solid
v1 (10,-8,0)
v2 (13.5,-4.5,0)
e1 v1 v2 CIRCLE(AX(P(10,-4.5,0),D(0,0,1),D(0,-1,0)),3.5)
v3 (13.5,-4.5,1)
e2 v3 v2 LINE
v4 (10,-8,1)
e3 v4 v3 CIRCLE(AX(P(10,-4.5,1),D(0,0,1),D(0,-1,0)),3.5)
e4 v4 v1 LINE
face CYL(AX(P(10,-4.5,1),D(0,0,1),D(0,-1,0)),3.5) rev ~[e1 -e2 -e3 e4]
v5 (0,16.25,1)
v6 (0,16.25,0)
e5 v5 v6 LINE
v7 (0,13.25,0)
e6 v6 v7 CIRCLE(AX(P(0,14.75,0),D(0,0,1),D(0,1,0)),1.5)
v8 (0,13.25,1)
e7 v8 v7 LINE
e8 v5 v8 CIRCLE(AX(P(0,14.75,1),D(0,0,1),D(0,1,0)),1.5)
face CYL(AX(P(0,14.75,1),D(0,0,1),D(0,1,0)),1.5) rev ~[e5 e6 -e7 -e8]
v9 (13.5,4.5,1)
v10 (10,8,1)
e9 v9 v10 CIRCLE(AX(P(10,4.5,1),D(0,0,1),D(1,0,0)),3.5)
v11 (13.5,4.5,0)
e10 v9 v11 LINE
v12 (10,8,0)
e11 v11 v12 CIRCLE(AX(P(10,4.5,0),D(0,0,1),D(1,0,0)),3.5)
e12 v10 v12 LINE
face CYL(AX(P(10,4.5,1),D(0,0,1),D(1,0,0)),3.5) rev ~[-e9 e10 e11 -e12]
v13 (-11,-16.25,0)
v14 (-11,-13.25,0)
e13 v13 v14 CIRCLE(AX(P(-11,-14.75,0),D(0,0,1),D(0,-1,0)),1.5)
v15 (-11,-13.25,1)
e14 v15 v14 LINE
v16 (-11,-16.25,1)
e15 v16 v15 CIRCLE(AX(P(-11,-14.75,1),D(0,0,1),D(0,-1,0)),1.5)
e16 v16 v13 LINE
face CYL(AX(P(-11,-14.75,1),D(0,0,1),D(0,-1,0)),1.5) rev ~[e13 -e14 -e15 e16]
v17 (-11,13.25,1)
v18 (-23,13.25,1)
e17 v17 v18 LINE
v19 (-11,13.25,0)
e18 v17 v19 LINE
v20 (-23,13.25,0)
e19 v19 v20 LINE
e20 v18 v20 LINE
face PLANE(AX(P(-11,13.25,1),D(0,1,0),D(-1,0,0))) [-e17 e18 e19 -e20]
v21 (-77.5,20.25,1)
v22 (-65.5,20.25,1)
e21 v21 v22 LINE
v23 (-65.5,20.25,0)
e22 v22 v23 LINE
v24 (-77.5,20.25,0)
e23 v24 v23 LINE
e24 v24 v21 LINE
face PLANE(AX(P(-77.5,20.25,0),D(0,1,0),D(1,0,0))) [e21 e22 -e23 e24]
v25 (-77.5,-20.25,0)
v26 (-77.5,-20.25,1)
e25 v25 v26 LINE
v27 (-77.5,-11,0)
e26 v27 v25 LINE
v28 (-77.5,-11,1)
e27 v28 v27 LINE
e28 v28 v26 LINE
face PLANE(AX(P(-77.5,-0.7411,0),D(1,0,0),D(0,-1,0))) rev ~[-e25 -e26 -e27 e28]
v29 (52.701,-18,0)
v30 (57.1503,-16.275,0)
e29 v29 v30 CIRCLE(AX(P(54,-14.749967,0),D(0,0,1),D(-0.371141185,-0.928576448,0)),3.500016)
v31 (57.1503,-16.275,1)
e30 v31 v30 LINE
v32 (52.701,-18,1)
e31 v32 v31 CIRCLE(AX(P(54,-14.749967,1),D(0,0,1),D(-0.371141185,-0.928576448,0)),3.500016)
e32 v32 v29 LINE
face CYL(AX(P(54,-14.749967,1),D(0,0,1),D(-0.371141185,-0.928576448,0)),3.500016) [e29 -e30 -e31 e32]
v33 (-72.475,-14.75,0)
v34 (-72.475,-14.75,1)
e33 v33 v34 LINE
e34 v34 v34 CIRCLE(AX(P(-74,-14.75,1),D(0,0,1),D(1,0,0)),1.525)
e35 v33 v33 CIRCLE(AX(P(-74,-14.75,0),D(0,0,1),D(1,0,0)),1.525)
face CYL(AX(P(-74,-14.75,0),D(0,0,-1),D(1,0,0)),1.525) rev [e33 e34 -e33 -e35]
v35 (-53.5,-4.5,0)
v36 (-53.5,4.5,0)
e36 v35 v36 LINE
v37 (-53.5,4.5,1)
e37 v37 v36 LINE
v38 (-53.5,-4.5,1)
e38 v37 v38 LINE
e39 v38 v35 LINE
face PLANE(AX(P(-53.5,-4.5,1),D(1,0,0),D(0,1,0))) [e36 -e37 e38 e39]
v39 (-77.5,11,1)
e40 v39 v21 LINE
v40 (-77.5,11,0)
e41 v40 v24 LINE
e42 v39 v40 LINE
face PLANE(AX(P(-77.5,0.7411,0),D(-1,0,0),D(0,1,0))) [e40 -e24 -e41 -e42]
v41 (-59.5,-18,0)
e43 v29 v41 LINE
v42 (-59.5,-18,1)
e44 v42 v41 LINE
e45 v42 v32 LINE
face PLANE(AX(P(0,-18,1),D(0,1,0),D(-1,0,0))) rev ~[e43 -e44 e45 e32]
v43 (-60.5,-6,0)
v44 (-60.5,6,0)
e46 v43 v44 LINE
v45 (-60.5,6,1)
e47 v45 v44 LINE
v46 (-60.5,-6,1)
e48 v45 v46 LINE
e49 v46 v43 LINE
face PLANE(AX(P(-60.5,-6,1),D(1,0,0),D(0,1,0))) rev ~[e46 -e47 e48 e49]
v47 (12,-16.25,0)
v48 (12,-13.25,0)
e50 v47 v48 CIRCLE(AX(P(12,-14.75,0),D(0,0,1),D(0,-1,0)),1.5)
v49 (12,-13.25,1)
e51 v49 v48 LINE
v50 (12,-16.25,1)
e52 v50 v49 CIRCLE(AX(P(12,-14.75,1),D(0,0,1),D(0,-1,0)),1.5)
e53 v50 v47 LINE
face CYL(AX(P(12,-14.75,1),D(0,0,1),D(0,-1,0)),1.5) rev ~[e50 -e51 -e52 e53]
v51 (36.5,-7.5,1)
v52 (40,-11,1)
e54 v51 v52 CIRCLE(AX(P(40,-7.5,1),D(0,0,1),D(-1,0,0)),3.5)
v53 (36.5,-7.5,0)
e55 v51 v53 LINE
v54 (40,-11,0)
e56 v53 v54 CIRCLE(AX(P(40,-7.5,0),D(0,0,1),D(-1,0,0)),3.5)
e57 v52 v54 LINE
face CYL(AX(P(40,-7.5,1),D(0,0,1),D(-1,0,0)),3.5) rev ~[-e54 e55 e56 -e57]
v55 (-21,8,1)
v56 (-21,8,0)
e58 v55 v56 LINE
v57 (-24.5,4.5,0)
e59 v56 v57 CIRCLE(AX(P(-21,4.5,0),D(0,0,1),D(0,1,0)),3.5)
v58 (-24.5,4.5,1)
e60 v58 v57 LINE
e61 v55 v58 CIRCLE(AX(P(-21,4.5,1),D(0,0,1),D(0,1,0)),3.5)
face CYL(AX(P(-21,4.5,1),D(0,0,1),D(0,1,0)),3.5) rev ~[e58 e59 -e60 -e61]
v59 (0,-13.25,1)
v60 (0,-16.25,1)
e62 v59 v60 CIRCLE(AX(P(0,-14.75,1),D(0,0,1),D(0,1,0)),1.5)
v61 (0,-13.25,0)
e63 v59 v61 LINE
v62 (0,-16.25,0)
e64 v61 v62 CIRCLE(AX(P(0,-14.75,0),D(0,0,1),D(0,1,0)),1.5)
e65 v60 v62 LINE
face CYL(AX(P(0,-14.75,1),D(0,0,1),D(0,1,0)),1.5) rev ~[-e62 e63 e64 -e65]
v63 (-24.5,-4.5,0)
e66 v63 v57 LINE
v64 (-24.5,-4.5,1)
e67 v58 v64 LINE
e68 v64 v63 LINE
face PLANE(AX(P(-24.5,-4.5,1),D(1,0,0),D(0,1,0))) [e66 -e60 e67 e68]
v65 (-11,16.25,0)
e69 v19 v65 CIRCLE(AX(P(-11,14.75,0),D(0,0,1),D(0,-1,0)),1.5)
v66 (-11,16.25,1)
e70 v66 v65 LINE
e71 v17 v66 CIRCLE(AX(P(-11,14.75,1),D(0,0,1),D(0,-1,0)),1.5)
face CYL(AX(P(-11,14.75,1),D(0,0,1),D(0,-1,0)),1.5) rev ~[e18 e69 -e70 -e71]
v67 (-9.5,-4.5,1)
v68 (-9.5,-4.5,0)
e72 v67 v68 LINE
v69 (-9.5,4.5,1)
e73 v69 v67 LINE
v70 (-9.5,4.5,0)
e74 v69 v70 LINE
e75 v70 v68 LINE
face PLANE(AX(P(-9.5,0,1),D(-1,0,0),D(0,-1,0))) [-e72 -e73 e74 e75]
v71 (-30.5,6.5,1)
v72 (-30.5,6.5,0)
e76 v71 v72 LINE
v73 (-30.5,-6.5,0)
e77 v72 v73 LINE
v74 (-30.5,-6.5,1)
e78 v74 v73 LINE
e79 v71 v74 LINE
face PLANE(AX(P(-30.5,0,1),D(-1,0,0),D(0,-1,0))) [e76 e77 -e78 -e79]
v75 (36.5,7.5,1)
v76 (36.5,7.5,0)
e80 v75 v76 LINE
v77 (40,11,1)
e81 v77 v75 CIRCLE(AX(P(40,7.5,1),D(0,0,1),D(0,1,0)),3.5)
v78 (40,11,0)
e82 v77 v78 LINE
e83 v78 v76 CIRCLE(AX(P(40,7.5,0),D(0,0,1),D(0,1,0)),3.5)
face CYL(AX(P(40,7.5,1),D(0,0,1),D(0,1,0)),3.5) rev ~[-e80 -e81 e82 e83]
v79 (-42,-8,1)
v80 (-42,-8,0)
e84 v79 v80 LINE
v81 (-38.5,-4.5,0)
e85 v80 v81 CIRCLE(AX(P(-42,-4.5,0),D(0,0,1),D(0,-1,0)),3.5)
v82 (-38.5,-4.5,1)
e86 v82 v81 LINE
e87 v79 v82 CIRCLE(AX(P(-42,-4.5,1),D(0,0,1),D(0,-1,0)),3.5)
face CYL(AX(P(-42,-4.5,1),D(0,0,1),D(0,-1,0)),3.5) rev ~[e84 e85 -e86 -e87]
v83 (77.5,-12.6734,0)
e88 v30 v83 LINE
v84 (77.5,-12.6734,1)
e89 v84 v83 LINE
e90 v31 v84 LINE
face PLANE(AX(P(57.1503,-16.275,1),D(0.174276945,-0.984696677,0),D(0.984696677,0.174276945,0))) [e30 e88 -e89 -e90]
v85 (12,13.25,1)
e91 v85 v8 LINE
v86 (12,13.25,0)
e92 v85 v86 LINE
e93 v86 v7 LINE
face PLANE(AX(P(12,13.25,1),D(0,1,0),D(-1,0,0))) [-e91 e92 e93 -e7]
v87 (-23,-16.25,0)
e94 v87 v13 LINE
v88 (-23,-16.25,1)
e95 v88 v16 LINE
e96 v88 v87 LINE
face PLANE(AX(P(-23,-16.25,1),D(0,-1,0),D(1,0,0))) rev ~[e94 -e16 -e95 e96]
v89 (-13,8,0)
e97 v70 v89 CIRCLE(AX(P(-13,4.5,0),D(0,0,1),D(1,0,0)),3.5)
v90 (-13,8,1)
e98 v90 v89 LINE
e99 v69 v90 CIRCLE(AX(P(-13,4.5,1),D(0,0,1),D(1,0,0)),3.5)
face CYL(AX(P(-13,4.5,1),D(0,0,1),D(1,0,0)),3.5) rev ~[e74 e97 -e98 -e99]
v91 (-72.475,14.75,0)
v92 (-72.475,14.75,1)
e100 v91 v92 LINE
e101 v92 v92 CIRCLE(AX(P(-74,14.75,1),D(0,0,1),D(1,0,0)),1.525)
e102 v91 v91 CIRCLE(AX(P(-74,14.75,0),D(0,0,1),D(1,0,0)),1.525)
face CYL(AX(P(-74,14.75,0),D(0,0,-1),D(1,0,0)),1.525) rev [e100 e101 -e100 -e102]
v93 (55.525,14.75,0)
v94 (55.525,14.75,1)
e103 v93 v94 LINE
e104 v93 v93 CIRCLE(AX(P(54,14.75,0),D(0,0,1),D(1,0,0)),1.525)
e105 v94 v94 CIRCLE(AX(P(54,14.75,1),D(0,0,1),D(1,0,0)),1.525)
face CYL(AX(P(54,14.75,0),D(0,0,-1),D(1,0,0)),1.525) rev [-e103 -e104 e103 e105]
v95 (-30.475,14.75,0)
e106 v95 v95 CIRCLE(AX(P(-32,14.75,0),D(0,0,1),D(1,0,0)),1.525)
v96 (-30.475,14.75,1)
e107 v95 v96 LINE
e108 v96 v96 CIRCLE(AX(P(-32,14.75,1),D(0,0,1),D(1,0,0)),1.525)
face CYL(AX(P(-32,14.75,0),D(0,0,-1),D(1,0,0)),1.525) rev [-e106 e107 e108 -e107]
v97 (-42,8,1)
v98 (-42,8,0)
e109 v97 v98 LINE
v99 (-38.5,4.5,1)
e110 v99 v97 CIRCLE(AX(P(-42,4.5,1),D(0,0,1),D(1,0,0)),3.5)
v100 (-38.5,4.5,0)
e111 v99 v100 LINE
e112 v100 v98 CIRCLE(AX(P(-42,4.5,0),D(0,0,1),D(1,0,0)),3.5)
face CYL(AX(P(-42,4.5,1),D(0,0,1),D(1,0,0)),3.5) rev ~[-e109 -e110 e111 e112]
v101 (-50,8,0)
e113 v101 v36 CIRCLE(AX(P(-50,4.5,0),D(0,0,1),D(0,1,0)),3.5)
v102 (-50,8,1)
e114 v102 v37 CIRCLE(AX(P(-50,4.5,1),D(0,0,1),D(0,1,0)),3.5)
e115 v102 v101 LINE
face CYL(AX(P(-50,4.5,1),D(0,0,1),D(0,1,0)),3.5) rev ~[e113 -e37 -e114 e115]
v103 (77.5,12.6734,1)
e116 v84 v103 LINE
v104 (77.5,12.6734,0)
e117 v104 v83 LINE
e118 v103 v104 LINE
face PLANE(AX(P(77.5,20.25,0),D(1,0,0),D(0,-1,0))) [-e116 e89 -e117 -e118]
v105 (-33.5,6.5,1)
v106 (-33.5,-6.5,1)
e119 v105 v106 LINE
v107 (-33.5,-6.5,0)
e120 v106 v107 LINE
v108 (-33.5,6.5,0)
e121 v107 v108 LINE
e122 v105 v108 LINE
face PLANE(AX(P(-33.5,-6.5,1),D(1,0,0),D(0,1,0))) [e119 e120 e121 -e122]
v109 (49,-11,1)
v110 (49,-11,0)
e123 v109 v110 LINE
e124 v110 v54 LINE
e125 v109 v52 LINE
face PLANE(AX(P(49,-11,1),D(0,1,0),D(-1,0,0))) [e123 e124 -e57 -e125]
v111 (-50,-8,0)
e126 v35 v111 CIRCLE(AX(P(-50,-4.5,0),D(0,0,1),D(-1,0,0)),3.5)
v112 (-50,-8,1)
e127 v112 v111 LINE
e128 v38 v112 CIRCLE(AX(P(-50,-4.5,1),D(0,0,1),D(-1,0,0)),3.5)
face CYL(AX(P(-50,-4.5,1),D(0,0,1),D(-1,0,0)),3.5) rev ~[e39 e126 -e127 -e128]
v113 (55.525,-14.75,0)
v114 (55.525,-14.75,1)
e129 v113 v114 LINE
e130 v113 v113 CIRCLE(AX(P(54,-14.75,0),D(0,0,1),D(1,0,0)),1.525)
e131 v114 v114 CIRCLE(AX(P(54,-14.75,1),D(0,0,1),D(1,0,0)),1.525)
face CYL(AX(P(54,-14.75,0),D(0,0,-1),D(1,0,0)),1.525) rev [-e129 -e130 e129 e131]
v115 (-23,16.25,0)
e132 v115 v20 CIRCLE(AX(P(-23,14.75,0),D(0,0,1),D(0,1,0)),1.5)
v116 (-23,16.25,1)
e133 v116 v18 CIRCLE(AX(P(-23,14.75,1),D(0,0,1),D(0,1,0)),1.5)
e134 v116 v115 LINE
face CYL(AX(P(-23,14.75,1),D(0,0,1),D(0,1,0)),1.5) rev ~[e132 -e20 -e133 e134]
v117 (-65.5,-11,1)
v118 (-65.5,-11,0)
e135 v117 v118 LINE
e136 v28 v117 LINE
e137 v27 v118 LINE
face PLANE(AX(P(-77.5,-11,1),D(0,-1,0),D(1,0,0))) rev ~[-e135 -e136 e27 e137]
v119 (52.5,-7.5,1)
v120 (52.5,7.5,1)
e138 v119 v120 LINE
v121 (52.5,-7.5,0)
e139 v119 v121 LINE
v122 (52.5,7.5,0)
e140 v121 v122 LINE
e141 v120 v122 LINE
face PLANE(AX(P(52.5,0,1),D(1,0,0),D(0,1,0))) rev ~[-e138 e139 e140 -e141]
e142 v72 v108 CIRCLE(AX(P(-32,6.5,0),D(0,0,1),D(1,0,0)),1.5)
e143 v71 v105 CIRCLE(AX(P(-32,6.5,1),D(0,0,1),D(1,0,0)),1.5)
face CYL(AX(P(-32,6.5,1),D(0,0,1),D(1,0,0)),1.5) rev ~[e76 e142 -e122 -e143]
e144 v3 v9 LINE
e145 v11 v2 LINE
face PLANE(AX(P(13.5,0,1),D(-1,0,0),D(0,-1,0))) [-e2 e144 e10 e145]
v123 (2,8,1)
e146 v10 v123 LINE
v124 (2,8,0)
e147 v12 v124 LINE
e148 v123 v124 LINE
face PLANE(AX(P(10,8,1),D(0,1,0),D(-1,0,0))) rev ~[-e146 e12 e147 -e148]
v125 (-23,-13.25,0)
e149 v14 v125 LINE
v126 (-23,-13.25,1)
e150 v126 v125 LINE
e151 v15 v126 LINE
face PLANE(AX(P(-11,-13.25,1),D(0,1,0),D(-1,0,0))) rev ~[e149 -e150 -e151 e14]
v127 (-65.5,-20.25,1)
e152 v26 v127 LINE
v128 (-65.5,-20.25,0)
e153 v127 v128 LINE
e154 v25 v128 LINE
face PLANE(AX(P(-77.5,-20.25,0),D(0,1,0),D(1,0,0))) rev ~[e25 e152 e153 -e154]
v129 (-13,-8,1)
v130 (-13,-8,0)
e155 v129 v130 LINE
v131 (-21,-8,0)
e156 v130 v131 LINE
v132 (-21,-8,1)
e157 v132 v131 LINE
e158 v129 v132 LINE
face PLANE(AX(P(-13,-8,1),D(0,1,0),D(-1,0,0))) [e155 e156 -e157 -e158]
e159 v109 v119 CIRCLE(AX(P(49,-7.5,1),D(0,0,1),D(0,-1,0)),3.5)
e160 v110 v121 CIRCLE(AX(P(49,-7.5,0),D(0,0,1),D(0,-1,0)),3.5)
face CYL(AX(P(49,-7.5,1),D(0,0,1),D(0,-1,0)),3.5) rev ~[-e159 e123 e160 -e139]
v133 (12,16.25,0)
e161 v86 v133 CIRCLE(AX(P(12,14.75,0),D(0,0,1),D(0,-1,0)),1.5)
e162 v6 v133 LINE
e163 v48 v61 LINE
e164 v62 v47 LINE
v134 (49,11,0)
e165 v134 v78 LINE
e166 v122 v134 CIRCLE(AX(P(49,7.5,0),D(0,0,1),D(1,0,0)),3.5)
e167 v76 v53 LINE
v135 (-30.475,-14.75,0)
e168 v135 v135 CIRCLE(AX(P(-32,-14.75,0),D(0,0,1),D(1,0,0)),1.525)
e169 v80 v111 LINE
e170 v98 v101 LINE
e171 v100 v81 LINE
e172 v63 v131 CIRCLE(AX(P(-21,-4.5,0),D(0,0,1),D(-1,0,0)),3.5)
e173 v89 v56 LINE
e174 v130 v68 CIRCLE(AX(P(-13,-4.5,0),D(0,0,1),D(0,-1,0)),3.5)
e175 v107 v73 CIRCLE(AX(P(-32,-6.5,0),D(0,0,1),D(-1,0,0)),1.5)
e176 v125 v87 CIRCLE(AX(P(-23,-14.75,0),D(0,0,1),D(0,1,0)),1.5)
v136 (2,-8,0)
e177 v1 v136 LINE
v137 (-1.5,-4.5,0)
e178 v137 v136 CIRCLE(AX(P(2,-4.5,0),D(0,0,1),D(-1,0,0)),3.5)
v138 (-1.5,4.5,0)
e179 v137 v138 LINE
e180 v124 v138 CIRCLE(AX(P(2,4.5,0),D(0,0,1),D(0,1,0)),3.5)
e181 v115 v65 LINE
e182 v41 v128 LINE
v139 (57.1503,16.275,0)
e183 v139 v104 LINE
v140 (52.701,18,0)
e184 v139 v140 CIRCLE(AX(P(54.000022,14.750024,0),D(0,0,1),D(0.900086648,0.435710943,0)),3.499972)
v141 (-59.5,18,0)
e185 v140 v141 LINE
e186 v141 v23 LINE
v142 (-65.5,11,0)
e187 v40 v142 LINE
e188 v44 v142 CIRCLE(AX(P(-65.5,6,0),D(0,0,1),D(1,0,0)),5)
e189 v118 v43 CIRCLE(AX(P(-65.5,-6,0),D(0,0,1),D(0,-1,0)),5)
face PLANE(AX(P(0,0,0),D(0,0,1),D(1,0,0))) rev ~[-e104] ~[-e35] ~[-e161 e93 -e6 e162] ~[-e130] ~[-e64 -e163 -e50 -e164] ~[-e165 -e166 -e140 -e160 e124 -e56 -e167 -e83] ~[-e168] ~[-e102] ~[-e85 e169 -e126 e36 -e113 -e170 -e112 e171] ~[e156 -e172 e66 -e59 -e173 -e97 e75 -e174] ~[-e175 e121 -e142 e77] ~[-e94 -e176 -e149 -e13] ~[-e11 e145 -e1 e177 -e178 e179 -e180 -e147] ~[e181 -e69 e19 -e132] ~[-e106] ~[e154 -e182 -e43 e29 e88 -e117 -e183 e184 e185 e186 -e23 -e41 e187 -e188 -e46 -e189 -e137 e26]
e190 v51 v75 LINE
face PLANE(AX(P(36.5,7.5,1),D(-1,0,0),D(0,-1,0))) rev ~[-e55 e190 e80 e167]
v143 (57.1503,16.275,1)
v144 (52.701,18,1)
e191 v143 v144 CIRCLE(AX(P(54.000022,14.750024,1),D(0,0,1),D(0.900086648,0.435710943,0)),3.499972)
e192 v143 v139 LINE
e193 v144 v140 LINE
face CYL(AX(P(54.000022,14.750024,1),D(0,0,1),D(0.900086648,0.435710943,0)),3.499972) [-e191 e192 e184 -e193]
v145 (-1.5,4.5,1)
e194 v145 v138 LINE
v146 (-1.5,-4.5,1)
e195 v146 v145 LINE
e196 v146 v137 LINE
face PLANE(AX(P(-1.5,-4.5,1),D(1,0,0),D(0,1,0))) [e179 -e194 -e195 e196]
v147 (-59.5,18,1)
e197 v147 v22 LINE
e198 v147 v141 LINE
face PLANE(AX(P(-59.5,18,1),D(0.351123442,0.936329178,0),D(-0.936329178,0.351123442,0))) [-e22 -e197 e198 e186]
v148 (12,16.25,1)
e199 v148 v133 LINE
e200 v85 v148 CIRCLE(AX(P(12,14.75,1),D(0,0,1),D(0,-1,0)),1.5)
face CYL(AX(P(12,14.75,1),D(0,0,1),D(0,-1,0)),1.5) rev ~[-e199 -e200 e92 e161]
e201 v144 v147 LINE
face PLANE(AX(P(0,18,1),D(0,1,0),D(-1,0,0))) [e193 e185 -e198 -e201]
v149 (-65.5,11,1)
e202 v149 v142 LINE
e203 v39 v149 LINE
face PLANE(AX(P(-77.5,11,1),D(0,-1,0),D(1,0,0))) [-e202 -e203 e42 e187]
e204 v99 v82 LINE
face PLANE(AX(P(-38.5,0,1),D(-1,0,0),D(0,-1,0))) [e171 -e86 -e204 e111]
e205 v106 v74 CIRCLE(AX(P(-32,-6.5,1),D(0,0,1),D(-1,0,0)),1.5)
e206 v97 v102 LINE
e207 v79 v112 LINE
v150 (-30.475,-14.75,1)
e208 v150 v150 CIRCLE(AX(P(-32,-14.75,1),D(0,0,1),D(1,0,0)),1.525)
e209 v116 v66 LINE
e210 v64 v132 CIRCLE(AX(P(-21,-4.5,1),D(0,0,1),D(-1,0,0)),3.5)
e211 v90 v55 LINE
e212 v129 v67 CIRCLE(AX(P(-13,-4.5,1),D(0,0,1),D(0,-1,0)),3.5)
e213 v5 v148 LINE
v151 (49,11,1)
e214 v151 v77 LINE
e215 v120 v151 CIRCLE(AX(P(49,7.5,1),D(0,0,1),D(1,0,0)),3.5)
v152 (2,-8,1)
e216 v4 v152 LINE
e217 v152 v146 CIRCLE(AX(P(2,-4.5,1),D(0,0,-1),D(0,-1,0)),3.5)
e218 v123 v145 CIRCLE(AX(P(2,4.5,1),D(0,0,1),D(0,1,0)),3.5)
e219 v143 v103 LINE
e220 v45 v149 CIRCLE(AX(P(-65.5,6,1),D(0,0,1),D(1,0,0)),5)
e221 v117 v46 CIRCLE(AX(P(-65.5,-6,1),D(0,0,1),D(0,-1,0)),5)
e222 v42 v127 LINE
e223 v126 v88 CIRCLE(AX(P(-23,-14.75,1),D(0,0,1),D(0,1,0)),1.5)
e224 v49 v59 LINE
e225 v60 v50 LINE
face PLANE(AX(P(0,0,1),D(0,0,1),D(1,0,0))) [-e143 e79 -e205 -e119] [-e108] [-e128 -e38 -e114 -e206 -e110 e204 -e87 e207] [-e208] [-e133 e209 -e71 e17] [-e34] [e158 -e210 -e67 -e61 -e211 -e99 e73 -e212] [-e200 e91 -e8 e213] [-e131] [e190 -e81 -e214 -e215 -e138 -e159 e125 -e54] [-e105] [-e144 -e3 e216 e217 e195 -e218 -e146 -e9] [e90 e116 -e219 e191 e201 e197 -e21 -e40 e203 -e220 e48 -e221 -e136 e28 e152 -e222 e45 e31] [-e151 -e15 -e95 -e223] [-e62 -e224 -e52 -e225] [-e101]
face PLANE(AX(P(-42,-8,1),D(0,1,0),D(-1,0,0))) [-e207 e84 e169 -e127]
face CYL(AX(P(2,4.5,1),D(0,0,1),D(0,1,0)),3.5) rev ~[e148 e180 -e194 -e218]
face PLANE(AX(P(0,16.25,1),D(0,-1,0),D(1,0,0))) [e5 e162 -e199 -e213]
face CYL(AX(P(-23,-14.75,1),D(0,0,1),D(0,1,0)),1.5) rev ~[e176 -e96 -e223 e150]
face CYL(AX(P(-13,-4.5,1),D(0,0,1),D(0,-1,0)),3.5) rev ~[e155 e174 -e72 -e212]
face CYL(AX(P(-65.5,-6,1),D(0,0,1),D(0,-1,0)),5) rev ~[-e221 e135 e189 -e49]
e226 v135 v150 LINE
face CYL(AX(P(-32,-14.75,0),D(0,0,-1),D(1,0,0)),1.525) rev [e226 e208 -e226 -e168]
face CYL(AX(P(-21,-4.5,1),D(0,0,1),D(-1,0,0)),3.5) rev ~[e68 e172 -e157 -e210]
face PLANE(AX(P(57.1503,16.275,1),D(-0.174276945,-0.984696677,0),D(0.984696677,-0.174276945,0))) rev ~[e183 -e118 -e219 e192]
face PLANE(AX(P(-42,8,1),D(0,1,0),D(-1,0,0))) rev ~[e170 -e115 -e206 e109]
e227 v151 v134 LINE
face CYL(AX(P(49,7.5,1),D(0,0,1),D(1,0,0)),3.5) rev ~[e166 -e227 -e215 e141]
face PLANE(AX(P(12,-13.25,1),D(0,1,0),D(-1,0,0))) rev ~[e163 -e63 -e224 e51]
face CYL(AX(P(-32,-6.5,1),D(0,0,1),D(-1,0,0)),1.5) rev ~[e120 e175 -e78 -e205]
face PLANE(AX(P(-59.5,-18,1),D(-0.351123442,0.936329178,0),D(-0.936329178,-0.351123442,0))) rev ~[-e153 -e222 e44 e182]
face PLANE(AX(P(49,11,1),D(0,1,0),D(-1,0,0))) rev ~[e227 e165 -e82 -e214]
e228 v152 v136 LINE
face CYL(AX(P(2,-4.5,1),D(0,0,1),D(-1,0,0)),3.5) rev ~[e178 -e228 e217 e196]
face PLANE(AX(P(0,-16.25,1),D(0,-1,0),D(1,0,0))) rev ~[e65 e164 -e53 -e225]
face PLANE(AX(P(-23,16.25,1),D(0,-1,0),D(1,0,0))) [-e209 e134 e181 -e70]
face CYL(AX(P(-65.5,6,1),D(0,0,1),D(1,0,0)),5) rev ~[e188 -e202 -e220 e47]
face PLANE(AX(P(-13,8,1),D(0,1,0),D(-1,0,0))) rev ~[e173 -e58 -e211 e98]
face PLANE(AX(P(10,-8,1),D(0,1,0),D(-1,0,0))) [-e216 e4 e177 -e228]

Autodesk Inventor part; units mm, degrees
ref_plane "YZ Plane" through (0, 0, 0) normal (1, 0, 0) x (0, 1, 0)
ref_plane "XZ Plane" through (0, 0, 0) normal (0, 1, 0) x (-1, 0, 0)
ref_plane "XY Plane" through (0, 0, 0) normal (0, 0, 1) x (1, 0, 0)
sketch "Sketch1" plane through (0, 0, 0) normal (0, 0, 1) x (1, 0, 0)
  line L0 (-74, 14.75) -> (54, 14.75) construction
  line L1 (-89.2201, 0) -> (135.4294, 0) construction
  circle A0 centre (-74, 14.75) radius 1.525
  circle A1 centre (-32, 14.75) radius 1.525
  circle A2 centre (54, 14.75) radius 1.525
  line L2 (-77.5, 0.7411) -> (-77.5, 20.25)
  line L3 (-77.5, 20.25) -> (77.5, 20.25)
  line L4 (77.5, 20.25) -> (77.5, 0)
  line L5 (-74, -14.75) -> (54, -14.75) construction
  circle A3 centre (-74, -14.75) radius 1.525
  circle A4 centre (-32, -14.75) radius 1.525
  circle A5 centre (54, -14.75) radius 1.525
  line L6 (-77.5, -0.7411) -> (-77.5, -20.25)
  line L7 (-77.5, -20.25) -> (77.5, -20.25)
  line L8 (77.5, -20.25) -> (77.5, 0)
  line L9 (-77.5, 0.7411) -> (-77.5, -0.7411)
  point P0 (0, 0)
  point P1 (0, 0)
  dimension "d2" = 3.05
  dimension "d3" = 3.05
  dimension "d4" = 3.05
  dimension "d6" = 42
  dimension "d7" = 86
  dimension "d127" = 20.25
  dimension "d129" = 155
  dimension "d130" = 77.5
  dimension "d131" = 3.5
extrude "Extrusion1" add sketch "Sketch1" along normal blind 1
sketch "Sketch5" plane through (0, 0, 1) normal (0, 0, 1) x (1, 0, 0)
  line L0 (-59.5, -18) -> (-65.5, -20.25)
  line L1 (-77.5, -11) -> (-65.5, -11)
  line L2 (0, 40.5196) -> (0, -40.5196) projected
  line L3 (-109.7892, 0) -> (116.2355, 0) projected
  line L4 (-60.5, -6) -> (-60.5, 0)
  arc A0 (-65.5, -11) -> (-60.5, -6) centre (-65.5, -6) ccw
  circle A1 centre (54, -14.75) radius 1.525 projected
  arc A2 (52.701, -18) -> (57.1503, -16.275) centre (54, -14.75) ccw
  line L5 (52.701, -18) -> (-59.5, -18)
  line L6 (57.1503, -16.275) -> (77.5, -12.6734)
  arc A3 (57.1503, -16.275) -> (52.701, -18) centre (54, -14.75) ccw construction
  line L7 (49, -11) -> (40, -11)
  line L8 (36.5, -7.5) -> (36.5, 0)
  line L9 (52.5, 0) -> (52.5, -7.5)
  line L10 (-42, -8) -> (-50, -8)
  line L11 (-53.5, -4.5) -> (-53.5, 0)
  line L12 (-38.5, 0) -> (-38.5, -4.5)
  line L13 (-30.5, 0) -> (-30.5, -6.5)
  line L14 (-33.5, -6.5) -> (-33.5, 0)
  arc A4 (-33.5, -6.5) -> (-30.5, -6.5) centre (-32, -6.5) ccw
  line L15 (-9.5, 0) -> (-9.5, -4.5)
  line L16 (-13, -8) -> (-21, -8)
  line L17 (-24.5, -4.5) -> (-24.5, 0)
  line L18 (10, -8) -> (2, -8)
  line L19 (-1.5, -4.5) -> (-1.5, 0)
  line L20 (13.5, 0) -> (13.5, -4.5)
  circle A5 centre (-32, -14.75) radius 1.525 construction
  line L21 (-32, -14.75) -> (15.7139, -14.75) construction
  circle A6 centre (-32, 14.75) radius 1.525 construction
  line L22 (-32, 14.75) -> (13.5, 14.75) construction
  line L23 (12, -28.9426) -> (12, 23.2337) construction
  line L24 (0, -27.2548) -> (0, 23.7474) construction
  line L25 (-11, -24.7597) -> (-11, 23.7474) construction
  line L26 (-23, -24.7597) -> (-23, 23.7474) construction
  line L27 (12, -14.75) -> (0, -14.75) construction
  line L28 (12, -13.25) -> (0, -13.25)
  line L29 (0, -16.25) -> (12, -16.25)
  arc A7 (12, -16.25) -> (12, -13.25) centre (12, -14.75) ccw
  arc A8 (0, -13.25) -> (0, -16.25) centre (0, -14.75) ccw
  line L30 (-11, -14.75) -> (-23, -14.75) construction
  line L31 (-11, -13.25) -> (-23, -13.25)
  line L32 (-23, -16.25) -> (-11, -16.25)
  arc A9 (-11, -16.25) -> (-11, -13.25) centre (-11, -14.75) ccw
  arc A10 (-23, -13.25) -> (-23, -16.25) centre (-23, -14.75) ccw
  arc A11 (49, -11) -> (52.5, -7.5) centre (49, -7.5) ccw
  arc A12 (36.5, -7.5) -> (40, -11) centre (40, -7.5) ccw
  arc A13 (10, -8) -> (13.5, -4.5) centre (10, -4.5) ccw
  arc A14 (-1.5, -4.5) -> (2, -8) centre (2, -4.5) ccw
  arc A15 (-13, -8) -> (-9.5, -4.5) centre (-13, -4.5) ccw
  arc A16 (-24.5, -4.5) -> (-21, -8) centre (-21, -4.5) ccw
  arc A17 (-42, -8) -> (-38.5, -4.5) centre (-42, -4.5) ccw
  arc A18 (-53.5, -4.5) -> (-50, -8) centre (-50, -4.5) ccw
  line L33 (-59.5, 18) -> (-65.5, 20.25)
  line L34 (-77.5, 11) -> (-65.5, 11)
  line L35 (-60.5, 6) -> (-60.5, 0)
  arc A19 (-60.5, 6) -> (-65.5, 11) centre (-65.5, 6) ccw
  circle A20 centre (54, 14.75) radius 1.525
  arc A21 (57.1503, 16.275) -> (52.701, 18) centre (54, 14.75) ccw
  line L36 (52.701, 18) -> (-59.5, 18)
  line L37 (57.1503, 16.275) -> (77.5, 12.6734)
  arc A22 (52.701, 18) -> (57.1503, 16.275) centre (54, 14.75) ccw construction
  line L38 (49, 11) -> (40, 11)
  line L39 (36.5, 7.5) -> (36.5, 0)
  line L40 (52.5, 0) -> (52.5, 7.5)
  line L41 (-42, 8) -> (-50, 8)
  line L42 (-53.5, 4.5) -> (-53.5, 0)
  line L43 (-38.5, 0) -> (-38.5, 4.5)
  line L44 (-30.5, 0) -> (-30.5, 6.5)
  line L45 (-33.5, 6.5) -> (-33.5, 0)
  arc A23 (-30.5, 6.5) -> (-33.5, 6.5) centre (-32, 6.5) ccw
  line L46 (-9.5, 0) -> (-9.5, 4.5)
  line L47 (-13, 8) -> (-21, 8)
  line L48 (-24.5, 4.5) -> (-24.5, 0)
  line L49 (10, 8) -> (2, 8)
  line L50 (-1.5, 4.5) -> (-1.5, 0)
  line L51 (13.5, 0) -> (13.5, 4.5)
  circle A24 centre (-32, 14.75) radius 1.525 construction
  line L52 (-32, 14.75) -> (15.7139, 14.75) construction
  line L53 (12, 14.75) -> (0, 14.75) construction
  line L54 (12, 13.25) -> (0, 13.25)
  line L55 (0, 16.25) -> (12, 16.25)
  arc A25 (12, 13.25) -> (12, 16.25) centre (12, 14.75) ccw
  arc A26 (0, 16.25) -> (0, 13.25) centre (0, 14.75) ccw
  line L56 (-11, 14.75) -> (-23, 14.75) construction
  line L57 (-11, 13.25) -> (-23, 13.25)
  line L58 (-23, 16.25) -> (-11, 16.25)
  arc A27 (-11, 13.25) -> (-11, 16.25) centre (-11, 14.75) ccw
  arc A28 (-23, 16.25) -> (-23, 13.25) centre (-23, 14.75) ccw
  arc A29 (52.5, 7.5) -> (49, 11) centre (49, 7.5) ccw
  arc A30 (40, 11) -> (36.5, 7.5) centre (40, 7.5) ccw
  arc A31 (13.5, 4.5) -> (10, 8) centre (10, 4.5) ccw
  arc A32 (2, 8) -> (-1.5, 4.5) centre (2, 4.5) ccw
  arc A33 (-9.5, 4.5) -> (-13, 8) centre (-13, 4.5) ccw
  arc A34 (-21, 8) -> (-24.5, 4.5) centre (-21, 4.5) ccw
  arc A35 (-38.5, 4.5) -> (-42, 8) centre (-42, 4.5) ccw
  arc A36 (-50, 8) -> (-53.5, 4.5) centre (-50, 4.5) ccw
  line L59 (77.5, -12.6734) -> (82.2803, -14.75)
  line L60 (82.2803, -14.75) -> (77.5, -28.9426)
  line L61 (77.5, -28.9426) -> (-65.5, -24.3901)
  line L62 (-65.5, -24.3901) -> (-65.5, -20.25)
  line L63 (77.5, 12.6734) -> (83.9462, 22.4701)
  line L64 (83.9462, 22.4701) -> (-65.5, 21.6624)
  line L65 (-65.5, 21.6624) -> (-65.5, 20.25)
  line L66 (-77.5, -11) -> (-77.5, 11)
  point P0 (0, 0)
  point P1 (-77.5, -20.25)
  point P2 (-77.5, 20.25)
  point P3 (52.5, -11)
  point P4 (36.5, -11)
  point P5 (-38.5, -8)
  point P6 (-53.5, -8)
  point P7 (-9.5, -8)
  point P8 (-24.5, -8)
  point P9 (-1.5, -8)
  point P10 (6, -14.75)
  point P11 (-17, -14.75)
  point P12 (52.5, 11)
  point P13 (36.5, 11)
  point P14 (-38.5, 8)
  point P15 (-53.5, 8)
  point P16 (-9.5, 8)
  point P17 (-24.5, 8)
  point P18 (-1.5, 8)
  point P19 (12, 28.9426)
  point P20 (0, 27.2548)
  point P21 (-11, 24.7597)
  point P22 (-23, 24.7597)
  point P23 (6, 14.75)
  point P24 (-17, 14.75)
  dimension "d133" = 12
  dimension "d135" = 11
  dimension "d137" = 5
  dimension "d138" = 7
  dimension "d139" = 97
  dimension "d140" = 16
  dimension "d141" = 8
  dimension "d142" = 7
  dimension "d143" = 15
  dimension "d144" = 3
  dimension "d147" = 6.5
  dimension "d148" = 15
  dimension "d149" = 8
  dimension "d150" = 36
  dimension "d151" = 15
  dimension "d152" = 8
  dimension "d153" = 59
  dimension "d154" = 27
  dimension "d155" = 6.5
  dimension "d156" = 1.5
  dimension "d157" = 1.5
  dimension "d158" = 1.5
  dimension "d159" = 1.5
  dimension "d161" = 3.5
extrude "Extrusion5" cut sketch "Sketch5" against normal through all contours L5 L2 L61 L62 L0 | L4 A0 L1 L66 L3 | L3 L66 L34 A19 L35 | L12 A17 L10 A18 L11 L3 | L3 L42 A36 L41 A35 L43 | L13 A4 L14 L3 | L3 L45 A23 L44 | L15 A15 L16 A16 L17 L3 | L3 L48 A34 L47 A33 L46 | L36 L33 L65 L64 L2 | L2 L64 L63 L37 A21 L36 | A26 L2 | L2 L55 A25 L54 | L39 A30 L38 A29 L40 L3 | L3 L9 A11 L7 A12 L8 | A14 L19 L3 L2 | L2 L3 L20 A13 L18 A14 | A8 L2 | L2 L28 A7 L29 | L5 A2 L6 L59 L60 L61 L2 | L3 L50 A32 L2 | L2 A32 L49 A31 L51 L3 | A9 L32 A10 L31 | L57 A28 L58 A27
equation "\"d3\" = d2"
equation "\"d4\" = d2"
properties part number "Top Plate" material "CFRP"
